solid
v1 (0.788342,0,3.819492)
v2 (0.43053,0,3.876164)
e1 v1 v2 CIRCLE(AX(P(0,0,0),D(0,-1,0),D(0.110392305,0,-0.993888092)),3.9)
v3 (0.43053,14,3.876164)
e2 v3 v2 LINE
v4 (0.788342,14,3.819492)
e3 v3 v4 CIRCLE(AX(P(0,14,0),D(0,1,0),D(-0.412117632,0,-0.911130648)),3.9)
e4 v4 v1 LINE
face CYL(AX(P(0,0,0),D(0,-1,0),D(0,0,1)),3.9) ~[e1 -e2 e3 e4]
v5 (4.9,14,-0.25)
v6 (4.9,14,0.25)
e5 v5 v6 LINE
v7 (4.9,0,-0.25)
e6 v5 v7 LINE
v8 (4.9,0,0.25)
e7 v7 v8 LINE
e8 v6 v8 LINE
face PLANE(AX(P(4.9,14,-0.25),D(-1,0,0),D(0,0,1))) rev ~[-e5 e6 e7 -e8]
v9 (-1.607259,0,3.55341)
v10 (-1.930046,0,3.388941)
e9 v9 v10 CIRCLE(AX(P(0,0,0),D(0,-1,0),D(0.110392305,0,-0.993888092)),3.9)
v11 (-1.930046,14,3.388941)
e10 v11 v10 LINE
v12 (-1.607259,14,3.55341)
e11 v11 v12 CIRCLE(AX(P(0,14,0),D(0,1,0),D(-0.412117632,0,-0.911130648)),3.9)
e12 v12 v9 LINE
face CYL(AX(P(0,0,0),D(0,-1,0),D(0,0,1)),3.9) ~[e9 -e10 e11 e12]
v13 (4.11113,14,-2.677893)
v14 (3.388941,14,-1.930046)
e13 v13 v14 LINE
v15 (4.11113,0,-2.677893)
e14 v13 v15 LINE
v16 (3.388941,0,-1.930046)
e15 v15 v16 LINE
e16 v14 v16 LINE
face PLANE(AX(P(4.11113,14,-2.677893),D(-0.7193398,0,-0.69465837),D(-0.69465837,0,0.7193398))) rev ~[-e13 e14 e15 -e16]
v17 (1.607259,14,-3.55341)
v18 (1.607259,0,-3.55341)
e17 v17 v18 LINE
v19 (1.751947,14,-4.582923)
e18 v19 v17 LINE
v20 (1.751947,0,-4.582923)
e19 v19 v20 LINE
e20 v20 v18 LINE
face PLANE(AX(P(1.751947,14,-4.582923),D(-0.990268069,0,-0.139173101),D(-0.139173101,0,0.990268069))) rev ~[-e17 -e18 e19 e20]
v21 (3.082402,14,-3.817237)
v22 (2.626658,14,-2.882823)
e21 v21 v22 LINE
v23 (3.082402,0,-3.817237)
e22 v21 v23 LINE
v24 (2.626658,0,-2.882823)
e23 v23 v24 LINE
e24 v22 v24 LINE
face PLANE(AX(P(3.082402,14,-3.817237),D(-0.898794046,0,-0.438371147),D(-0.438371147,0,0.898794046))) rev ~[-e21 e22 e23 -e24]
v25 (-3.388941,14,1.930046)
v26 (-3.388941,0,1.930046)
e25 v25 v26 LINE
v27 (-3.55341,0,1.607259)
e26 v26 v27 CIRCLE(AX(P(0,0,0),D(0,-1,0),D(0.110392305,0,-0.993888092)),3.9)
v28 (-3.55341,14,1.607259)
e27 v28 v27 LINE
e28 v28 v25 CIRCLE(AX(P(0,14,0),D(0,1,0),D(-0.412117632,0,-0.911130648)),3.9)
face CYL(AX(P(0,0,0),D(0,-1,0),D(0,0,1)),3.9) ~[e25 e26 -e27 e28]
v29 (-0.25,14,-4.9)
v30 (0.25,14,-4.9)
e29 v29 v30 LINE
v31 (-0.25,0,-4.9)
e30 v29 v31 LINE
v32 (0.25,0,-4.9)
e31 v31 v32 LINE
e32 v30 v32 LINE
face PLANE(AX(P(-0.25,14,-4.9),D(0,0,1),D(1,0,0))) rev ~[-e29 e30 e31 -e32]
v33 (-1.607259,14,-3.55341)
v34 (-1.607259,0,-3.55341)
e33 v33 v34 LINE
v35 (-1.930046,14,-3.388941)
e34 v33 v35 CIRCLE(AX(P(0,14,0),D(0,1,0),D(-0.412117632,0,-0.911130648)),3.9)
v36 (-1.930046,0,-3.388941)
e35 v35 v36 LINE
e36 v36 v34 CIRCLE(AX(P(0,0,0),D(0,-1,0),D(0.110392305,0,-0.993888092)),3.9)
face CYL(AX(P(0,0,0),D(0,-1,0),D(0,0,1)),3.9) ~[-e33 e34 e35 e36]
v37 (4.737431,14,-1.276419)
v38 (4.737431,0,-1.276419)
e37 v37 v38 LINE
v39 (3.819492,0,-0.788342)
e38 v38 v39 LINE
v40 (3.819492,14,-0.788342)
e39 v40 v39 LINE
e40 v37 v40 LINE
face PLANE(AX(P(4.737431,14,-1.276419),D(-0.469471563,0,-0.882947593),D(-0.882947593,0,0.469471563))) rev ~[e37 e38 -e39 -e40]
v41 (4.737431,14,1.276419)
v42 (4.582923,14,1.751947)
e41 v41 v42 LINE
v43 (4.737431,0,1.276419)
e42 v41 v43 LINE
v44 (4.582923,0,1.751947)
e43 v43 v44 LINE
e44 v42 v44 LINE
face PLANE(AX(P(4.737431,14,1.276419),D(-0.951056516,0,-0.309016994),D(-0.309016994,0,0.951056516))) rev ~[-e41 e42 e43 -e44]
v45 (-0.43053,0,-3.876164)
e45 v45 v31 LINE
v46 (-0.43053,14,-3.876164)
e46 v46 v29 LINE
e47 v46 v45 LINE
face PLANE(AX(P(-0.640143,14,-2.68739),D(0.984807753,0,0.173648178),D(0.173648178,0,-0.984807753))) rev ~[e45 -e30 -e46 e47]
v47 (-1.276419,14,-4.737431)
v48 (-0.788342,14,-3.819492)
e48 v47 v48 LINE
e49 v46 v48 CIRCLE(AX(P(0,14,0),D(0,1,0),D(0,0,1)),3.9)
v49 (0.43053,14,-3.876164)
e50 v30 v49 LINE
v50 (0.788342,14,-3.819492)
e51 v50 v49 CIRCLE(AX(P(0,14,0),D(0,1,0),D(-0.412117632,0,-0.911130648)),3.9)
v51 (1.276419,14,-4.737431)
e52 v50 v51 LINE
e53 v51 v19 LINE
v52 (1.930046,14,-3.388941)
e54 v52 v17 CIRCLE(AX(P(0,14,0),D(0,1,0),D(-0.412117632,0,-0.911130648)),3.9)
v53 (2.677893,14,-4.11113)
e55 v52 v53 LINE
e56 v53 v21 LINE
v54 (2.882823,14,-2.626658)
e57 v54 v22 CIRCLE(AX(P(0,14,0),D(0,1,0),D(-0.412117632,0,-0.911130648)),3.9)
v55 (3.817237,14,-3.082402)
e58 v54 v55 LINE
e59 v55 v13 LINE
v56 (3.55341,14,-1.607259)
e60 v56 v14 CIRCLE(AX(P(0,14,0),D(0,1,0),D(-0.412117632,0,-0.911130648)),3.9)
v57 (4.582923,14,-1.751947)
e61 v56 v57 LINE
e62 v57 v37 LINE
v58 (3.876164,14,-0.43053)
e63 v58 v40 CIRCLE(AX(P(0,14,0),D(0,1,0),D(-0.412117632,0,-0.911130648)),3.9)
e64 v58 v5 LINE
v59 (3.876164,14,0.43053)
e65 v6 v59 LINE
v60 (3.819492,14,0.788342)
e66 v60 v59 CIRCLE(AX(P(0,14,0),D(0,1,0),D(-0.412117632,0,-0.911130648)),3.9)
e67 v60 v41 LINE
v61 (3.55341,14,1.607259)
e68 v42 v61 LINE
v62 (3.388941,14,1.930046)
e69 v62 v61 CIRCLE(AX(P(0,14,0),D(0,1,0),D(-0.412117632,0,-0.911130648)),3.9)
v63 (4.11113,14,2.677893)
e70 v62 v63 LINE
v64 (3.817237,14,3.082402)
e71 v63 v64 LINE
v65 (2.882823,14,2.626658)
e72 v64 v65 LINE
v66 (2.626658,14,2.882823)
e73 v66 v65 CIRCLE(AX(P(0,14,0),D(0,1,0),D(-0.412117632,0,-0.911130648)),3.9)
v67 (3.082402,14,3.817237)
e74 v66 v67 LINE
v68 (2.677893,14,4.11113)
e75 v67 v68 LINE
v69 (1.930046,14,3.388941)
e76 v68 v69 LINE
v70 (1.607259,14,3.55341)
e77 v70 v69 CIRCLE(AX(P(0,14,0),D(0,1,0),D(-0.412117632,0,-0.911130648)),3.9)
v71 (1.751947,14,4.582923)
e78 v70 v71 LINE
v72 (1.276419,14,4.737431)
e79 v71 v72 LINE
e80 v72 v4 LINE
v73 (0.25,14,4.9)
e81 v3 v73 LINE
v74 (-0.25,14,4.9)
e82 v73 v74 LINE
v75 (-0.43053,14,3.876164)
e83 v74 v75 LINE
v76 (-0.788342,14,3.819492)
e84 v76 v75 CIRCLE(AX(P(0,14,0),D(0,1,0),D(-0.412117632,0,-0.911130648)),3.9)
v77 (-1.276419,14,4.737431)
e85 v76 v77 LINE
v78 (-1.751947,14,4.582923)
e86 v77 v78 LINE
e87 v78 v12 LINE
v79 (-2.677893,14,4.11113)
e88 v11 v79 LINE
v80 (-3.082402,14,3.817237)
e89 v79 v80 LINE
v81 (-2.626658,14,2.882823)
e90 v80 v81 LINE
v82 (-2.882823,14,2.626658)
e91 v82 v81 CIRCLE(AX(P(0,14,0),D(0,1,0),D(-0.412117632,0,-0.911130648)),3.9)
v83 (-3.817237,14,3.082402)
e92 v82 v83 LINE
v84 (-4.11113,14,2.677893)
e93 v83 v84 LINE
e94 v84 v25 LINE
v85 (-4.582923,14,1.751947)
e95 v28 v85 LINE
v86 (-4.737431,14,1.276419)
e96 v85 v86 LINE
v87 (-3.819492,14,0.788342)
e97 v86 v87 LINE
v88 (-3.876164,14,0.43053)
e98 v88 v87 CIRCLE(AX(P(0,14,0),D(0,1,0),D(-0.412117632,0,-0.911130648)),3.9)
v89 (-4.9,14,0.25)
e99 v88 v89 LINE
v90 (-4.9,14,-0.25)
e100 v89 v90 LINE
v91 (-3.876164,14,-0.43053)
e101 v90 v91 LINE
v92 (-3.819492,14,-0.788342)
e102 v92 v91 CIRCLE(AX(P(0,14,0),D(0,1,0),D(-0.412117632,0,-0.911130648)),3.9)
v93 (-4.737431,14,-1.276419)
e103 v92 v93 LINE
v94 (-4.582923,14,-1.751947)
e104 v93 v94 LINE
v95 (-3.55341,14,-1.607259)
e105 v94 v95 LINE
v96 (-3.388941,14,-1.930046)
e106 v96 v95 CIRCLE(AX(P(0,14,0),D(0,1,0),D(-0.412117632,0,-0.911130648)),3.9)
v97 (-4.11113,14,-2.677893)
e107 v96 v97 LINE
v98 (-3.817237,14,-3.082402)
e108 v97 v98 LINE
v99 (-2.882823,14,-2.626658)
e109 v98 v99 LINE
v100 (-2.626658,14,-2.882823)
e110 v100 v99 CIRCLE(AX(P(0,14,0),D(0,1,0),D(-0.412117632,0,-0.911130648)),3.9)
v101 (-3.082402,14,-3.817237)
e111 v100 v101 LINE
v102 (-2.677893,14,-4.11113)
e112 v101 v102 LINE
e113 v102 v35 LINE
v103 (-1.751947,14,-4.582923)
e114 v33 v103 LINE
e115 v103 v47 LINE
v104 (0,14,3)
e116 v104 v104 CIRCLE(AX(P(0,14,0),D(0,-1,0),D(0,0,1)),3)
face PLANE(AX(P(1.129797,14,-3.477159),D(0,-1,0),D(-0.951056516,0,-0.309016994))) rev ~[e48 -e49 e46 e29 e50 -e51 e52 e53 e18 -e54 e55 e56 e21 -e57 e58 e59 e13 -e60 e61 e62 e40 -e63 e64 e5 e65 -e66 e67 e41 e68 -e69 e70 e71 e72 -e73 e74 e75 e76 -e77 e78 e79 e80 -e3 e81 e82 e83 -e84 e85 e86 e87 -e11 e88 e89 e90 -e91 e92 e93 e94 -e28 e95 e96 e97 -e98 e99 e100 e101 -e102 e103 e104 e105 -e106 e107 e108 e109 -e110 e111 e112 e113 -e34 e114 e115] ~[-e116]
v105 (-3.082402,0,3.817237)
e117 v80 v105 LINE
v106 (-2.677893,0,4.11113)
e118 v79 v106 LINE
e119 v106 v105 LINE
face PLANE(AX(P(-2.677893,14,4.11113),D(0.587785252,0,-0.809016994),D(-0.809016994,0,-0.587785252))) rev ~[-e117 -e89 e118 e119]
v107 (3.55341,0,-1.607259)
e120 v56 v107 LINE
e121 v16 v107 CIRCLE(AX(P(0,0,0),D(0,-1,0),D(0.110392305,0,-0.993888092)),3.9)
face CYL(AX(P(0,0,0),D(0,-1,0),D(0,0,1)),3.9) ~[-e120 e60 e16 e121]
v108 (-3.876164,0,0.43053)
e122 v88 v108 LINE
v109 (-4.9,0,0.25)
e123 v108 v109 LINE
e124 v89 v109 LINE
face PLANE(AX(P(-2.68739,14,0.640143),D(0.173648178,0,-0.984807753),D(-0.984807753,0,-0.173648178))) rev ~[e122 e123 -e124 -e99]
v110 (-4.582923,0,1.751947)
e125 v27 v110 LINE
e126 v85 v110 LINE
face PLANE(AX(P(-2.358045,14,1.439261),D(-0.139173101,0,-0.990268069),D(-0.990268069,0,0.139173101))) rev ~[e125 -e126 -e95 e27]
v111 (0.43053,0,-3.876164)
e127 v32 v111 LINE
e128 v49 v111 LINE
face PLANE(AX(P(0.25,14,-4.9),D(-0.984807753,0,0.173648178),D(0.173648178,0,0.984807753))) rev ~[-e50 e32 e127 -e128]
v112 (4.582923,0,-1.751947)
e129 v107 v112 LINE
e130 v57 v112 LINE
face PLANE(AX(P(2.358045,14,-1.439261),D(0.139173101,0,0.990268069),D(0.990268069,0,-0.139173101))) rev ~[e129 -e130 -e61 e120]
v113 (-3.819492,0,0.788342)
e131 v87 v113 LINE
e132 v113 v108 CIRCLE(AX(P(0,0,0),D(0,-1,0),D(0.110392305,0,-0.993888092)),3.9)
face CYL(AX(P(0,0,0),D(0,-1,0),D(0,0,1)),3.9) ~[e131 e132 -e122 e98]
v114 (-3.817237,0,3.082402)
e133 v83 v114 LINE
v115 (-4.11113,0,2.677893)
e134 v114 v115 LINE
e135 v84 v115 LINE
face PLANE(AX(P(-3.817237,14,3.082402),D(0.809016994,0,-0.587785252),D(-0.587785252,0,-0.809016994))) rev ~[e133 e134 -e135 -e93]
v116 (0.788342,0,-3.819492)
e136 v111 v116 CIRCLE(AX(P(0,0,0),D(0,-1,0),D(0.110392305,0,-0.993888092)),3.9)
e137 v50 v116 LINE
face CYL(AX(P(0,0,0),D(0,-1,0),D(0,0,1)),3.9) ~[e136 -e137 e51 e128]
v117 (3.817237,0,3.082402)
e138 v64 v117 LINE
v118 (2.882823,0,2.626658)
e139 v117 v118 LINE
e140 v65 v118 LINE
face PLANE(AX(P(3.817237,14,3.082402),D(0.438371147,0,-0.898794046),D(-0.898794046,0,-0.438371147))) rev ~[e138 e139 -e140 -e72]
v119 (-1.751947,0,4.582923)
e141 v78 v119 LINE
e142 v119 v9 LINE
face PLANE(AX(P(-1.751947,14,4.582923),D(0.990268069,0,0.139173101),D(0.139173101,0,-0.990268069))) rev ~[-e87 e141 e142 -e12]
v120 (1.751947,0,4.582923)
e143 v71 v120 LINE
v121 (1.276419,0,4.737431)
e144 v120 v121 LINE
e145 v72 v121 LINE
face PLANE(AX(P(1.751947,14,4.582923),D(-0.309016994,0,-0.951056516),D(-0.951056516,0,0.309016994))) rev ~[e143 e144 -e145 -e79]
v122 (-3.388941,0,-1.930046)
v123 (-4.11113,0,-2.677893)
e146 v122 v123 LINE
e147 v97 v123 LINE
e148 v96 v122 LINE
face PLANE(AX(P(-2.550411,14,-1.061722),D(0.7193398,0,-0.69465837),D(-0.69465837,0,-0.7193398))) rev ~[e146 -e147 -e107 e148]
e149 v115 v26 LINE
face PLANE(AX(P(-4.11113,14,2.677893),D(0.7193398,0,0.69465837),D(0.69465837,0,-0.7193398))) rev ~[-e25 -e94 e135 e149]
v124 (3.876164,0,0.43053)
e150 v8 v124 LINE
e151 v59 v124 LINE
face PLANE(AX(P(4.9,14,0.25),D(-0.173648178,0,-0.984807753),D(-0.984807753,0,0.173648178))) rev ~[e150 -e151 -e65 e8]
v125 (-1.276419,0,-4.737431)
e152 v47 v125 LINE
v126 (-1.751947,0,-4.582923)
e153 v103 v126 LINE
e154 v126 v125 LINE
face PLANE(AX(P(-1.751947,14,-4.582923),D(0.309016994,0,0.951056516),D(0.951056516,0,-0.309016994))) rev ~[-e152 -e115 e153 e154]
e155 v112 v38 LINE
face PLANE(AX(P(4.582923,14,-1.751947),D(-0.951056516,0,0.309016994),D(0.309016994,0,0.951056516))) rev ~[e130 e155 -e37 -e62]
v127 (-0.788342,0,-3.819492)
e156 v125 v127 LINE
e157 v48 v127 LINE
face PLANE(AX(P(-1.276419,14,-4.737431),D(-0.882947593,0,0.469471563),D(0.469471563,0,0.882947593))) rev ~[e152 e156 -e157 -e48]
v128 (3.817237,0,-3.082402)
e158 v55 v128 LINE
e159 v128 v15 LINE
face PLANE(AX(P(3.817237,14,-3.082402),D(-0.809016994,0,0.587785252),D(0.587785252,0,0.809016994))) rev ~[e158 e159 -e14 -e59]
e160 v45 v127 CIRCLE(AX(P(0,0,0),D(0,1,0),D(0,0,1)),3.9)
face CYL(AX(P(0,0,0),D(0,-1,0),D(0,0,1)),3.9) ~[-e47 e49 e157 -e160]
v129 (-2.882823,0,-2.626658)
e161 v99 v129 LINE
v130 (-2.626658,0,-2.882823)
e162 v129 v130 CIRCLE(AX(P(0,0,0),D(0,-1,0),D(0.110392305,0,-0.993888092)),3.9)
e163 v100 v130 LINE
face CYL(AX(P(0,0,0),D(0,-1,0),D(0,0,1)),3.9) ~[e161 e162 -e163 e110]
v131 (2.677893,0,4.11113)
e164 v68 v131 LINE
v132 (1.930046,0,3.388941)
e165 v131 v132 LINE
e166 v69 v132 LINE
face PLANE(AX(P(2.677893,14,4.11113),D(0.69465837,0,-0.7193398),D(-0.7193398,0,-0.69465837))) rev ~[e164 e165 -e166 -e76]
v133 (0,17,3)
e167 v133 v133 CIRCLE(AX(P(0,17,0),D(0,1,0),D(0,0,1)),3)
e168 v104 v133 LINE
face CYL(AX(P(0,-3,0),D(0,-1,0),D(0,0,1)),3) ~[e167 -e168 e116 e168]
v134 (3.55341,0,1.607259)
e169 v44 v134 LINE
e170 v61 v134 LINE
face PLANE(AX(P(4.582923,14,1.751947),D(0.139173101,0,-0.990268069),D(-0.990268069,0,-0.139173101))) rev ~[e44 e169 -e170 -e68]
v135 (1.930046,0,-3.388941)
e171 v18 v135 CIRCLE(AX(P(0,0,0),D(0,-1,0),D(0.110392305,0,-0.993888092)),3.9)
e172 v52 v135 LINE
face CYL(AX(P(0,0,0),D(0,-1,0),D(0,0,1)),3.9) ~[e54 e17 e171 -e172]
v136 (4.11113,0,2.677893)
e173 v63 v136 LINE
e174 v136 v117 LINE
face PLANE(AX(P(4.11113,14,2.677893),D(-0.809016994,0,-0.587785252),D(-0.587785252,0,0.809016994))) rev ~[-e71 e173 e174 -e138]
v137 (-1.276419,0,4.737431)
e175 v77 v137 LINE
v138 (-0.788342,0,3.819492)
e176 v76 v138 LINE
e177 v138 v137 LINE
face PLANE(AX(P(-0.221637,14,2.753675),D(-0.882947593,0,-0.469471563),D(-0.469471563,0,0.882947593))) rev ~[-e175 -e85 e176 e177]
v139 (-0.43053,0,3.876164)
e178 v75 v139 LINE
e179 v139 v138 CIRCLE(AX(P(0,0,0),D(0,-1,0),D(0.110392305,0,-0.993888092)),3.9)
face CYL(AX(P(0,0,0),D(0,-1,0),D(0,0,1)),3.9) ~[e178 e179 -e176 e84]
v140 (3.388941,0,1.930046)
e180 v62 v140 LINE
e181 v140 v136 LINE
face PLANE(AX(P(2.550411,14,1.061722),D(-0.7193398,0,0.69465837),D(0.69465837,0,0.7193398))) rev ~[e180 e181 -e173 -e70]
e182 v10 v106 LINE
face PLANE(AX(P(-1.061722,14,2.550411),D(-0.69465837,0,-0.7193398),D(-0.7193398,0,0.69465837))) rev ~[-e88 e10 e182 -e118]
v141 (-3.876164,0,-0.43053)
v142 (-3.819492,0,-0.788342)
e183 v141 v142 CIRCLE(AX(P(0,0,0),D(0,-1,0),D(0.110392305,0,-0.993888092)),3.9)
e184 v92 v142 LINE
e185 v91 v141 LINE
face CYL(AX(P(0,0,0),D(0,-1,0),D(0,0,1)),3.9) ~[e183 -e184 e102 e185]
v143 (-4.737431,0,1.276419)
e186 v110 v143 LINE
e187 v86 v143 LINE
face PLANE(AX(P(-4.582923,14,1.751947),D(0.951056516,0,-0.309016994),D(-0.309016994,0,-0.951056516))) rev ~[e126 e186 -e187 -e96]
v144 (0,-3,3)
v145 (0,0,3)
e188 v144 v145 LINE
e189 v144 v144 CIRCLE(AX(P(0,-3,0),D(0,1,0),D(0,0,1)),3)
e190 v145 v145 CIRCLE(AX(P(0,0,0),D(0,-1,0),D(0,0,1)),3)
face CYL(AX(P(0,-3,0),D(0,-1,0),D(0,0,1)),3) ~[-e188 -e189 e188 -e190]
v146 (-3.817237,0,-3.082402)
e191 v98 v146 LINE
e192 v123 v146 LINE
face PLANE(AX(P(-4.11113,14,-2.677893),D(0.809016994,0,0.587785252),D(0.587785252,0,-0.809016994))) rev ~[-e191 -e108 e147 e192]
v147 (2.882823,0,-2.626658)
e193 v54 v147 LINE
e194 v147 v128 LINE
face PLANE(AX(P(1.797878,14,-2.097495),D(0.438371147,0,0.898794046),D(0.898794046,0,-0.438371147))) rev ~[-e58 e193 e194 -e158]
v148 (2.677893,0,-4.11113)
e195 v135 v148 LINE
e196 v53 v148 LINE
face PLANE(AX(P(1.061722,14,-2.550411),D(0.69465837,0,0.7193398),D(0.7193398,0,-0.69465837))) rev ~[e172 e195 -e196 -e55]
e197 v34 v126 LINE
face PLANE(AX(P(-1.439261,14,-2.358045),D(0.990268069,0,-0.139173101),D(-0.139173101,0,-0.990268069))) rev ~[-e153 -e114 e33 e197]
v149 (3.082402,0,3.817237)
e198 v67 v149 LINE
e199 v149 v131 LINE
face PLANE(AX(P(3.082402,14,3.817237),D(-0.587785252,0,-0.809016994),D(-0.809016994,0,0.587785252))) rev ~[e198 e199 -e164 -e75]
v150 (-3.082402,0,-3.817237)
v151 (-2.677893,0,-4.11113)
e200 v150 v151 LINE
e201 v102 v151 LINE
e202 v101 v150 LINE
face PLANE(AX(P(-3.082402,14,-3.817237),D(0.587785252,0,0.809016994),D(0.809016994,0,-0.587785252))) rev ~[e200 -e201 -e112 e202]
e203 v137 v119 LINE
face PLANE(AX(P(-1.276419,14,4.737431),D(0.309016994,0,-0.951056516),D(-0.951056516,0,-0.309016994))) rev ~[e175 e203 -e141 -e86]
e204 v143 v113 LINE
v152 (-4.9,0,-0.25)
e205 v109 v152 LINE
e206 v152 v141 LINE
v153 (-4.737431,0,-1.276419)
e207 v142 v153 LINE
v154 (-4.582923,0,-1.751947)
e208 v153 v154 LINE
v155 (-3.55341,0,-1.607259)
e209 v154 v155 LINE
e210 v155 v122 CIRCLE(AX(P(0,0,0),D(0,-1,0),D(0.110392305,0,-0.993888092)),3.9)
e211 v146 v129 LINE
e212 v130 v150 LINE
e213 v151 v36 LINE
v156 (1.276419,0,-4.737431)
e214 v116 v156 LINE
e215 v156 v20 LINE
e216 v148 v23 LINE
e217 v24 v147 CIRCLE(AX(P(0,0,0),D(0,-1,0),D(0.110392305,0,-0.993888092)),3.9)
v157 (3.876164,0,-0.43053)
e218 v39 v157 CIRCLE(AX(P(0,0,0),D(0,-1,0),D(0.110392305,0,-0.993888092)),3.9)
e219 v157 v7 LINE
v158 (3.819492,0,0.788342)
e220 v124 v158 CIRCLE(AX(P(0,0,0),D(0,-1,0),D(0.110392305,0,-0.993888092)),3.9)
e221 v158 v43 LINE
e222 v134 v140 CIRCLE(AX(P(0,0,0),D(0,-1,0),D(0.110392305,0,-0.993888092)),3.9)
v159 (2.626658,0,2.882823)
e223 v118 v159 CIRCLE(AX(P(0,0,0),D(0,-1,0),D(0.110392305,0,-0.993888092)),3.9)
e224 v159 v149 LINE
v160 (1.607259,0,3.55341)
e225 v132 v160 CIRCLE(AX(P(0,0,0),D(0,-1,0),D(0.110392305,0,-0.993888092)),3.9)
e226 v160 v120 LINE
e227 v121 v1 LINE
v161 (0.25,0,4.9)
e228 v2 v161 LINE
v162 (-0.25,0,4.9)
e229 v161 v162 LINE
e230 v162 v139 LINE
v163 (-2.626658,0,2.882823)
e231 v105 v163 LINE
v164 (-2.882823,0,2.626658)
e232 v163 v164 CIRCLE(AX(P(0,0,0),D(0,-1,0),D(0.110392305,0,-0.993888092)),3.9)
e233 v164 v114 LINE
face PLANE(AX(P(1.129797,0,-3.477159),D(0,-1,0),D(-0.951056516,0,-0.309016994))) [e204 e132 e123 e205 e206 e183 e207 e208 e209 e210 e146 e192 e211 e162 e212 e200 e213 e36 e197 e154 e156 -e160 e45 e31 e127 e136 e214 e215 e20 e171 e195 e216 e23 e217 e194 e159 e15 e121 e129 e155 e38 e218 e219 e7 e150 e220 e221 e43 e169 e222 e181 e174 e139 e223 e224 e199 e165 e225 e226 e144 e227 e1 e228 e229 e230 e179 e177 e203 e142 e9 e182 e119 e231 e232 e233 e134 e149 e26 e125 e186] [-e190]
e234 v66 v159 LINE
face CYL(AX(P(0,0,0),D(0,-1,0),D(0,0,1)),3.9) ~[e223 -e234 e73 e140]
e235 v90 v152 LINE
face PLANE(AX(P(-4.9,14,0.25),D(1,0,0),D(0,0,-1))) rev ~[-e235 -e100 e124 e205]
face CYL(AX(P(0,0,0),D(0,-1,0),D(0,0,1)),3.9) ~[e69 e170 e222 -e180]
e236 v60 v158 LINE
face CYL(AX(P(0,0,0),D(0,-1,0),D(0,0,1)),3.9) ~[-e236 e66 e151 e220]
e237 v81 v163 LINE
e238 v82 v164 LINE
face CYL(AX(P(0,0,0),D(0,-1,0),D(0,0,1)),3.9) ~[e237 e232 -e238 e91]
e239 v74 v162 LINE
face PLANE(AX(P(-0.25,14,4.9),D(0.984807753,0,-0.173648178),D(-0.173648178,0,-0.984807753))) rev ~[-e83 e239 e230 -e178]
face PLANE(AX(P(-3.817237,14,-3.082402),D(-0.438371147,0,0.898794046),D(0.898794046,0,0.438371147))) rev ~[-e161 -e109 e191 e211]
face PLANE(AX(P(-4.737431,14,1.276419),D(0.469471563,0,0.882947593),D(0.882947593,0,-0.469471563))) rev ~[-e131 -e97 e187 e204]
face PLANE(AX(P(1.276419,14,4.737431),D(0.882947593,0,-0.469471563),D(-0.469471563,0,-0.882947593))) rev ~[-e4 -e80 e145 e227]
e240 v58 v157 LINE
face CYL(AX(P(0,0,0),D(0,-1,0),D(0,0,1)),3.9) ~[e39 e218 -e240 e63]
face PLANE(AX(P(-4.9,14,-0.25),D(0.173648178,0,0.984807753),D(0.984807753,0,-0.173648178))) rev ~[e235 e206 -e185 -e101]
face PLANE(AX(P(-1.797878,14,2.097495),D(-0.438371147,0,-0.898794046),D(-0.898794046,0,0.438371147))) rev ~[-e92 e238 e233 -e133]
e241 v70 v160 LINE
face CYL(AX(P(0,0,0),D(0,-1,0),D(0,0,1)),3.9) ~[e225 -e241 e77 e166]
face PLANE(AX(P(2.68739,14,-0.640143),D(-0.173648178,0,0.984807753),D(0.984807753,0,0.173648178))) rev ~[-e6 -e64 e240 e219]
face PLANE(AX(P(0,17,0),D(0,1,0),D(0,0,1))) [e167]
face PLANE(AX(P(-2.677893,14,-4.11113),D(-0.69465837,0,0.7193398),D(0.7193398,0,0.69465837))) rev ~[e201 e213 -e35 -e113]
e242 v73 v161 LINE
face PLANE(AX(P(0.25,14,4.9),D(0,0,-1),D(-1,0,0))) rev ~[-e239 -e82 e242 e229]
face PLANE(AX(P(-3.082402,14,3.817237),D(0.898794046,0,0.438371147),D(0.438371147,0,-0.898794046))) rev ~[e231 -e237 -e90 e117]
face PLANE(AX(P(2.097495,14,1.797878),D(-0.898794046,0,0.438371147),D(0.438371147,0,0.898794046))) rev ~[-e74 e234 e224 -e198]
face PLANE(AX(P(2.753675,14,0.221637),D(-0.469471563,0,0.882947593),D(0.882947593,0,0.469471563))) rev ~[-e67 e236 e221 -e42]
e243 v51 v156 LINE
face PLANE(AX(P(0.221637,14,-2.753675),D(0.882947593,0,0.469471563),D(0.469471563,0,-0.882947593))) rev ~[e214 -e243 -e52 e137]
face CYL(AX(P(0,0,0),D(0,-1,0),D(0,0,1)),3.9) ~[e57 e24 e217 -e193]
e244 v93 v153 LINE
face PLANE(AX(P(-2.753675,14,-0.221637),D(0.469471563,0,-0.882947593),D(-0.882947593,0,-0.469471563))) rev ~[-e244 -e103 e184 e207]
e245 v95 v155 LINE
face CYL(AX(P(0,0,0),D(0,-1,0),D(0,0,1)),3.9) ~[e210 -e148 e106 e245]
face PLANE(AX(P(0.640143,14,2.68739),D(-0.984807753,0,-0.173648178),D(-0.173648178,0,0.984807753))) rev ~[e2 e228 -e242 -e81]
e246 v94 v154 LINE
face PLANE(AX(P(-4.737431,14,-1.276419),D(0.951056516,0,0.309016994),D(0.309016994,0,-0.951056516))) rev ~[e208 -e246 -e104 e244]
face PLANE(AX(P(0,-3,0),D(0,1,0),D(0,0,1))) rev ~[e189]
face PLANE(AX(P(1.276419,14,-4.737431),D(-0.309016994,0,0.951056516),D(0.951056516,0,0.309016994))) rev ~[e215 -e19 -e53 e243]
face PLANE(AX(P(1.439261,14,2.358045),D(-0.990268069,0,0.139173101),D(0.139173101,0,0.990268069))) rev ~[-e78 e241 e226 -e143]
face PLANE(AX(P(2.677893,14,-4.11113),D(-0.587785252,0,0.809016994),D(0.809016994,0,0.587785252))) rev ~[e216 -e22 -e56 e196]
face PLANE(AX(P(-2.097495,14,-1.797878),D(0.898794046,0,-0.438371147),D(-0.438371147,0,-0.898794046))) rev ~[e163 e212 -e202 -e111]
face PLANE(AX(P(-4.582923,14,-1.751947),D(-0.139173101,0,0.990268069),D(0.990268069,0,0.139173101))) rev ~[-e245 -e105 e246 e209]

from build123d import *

# Parameters (mm, degrees)
SKETCH1_R                = 3.9
BOSS_EXTRUDE1_DEPTH      = 14
BOSS_EXTRUDE2_DEPTH      = 14
CIRPATTERN1_COUNT        = 20
BOSS_EXTRUDE3_DEPTH      = 3
BOSS_EXTRUDE3_DEPTH_BACK = 17
SKETCH5_R                = 3


with BuildPart() as part:
    # Sketch1 → Boss-Extrude1 (new body)
    with BuildSketch(Plane(origin=(0, 0, 0), x_dir=(1, 0, 0), z_dir=(0, 1, 0))):
        with Locations(Location((0, 0, 0), (0, 0, 270))):
            Circle(SKETCH1_R)
    extrude(amount=BOSS_EXTRUDE1_DEPTH)

    # Sketch2 → Boss-Extrude2 (add)
    with BuildSketch(Plane(origin=(0, 14, 0), x_dir=(1, 0, 0), z_dir=(0, 1, 0))):
        Polygon((-0.25, 4.9), (0.25, 4.9), (0.64014281, 2.687390175), (-0.64014281, 2.687390175), align=None)
    boss_extrude2 = extrude(amount=-BOSS_EXTRUDE2_DEPTH)

    # CirPattern1: Boss-Extrude2 ×20 about axis
    cirpattern1_axis = Axis((0, 0, 0), (0, 1, 0))
    for i in range(1, CIRPATTERN1_COUNT):
        add(boss_extrude2.rotate(cirpattern1_axis, i * 360 / CIRPATTERN1_COUNT))

    # Sketch5 → Boss-Extrude3 (add, two sides: drawn at the far end of the back side and taken through both)
    with BuildSketch(Plane(origin=(0, 14, 0), x_dir=(1, 0, 0), z_dir=(0, 1, 0)).offset(-BOSS_EXTRUDE3_DEPTH_BACK)):
        with Locations(Location((0, 0, 0), (0, 0, 270))):
            Circle(SKETCH5_R)
    extrude(amount=BOSS_EXTRUDE3_DEPTH + BOSS_EXTRUDE3_DEPTH_BACK)


solid = part.part
